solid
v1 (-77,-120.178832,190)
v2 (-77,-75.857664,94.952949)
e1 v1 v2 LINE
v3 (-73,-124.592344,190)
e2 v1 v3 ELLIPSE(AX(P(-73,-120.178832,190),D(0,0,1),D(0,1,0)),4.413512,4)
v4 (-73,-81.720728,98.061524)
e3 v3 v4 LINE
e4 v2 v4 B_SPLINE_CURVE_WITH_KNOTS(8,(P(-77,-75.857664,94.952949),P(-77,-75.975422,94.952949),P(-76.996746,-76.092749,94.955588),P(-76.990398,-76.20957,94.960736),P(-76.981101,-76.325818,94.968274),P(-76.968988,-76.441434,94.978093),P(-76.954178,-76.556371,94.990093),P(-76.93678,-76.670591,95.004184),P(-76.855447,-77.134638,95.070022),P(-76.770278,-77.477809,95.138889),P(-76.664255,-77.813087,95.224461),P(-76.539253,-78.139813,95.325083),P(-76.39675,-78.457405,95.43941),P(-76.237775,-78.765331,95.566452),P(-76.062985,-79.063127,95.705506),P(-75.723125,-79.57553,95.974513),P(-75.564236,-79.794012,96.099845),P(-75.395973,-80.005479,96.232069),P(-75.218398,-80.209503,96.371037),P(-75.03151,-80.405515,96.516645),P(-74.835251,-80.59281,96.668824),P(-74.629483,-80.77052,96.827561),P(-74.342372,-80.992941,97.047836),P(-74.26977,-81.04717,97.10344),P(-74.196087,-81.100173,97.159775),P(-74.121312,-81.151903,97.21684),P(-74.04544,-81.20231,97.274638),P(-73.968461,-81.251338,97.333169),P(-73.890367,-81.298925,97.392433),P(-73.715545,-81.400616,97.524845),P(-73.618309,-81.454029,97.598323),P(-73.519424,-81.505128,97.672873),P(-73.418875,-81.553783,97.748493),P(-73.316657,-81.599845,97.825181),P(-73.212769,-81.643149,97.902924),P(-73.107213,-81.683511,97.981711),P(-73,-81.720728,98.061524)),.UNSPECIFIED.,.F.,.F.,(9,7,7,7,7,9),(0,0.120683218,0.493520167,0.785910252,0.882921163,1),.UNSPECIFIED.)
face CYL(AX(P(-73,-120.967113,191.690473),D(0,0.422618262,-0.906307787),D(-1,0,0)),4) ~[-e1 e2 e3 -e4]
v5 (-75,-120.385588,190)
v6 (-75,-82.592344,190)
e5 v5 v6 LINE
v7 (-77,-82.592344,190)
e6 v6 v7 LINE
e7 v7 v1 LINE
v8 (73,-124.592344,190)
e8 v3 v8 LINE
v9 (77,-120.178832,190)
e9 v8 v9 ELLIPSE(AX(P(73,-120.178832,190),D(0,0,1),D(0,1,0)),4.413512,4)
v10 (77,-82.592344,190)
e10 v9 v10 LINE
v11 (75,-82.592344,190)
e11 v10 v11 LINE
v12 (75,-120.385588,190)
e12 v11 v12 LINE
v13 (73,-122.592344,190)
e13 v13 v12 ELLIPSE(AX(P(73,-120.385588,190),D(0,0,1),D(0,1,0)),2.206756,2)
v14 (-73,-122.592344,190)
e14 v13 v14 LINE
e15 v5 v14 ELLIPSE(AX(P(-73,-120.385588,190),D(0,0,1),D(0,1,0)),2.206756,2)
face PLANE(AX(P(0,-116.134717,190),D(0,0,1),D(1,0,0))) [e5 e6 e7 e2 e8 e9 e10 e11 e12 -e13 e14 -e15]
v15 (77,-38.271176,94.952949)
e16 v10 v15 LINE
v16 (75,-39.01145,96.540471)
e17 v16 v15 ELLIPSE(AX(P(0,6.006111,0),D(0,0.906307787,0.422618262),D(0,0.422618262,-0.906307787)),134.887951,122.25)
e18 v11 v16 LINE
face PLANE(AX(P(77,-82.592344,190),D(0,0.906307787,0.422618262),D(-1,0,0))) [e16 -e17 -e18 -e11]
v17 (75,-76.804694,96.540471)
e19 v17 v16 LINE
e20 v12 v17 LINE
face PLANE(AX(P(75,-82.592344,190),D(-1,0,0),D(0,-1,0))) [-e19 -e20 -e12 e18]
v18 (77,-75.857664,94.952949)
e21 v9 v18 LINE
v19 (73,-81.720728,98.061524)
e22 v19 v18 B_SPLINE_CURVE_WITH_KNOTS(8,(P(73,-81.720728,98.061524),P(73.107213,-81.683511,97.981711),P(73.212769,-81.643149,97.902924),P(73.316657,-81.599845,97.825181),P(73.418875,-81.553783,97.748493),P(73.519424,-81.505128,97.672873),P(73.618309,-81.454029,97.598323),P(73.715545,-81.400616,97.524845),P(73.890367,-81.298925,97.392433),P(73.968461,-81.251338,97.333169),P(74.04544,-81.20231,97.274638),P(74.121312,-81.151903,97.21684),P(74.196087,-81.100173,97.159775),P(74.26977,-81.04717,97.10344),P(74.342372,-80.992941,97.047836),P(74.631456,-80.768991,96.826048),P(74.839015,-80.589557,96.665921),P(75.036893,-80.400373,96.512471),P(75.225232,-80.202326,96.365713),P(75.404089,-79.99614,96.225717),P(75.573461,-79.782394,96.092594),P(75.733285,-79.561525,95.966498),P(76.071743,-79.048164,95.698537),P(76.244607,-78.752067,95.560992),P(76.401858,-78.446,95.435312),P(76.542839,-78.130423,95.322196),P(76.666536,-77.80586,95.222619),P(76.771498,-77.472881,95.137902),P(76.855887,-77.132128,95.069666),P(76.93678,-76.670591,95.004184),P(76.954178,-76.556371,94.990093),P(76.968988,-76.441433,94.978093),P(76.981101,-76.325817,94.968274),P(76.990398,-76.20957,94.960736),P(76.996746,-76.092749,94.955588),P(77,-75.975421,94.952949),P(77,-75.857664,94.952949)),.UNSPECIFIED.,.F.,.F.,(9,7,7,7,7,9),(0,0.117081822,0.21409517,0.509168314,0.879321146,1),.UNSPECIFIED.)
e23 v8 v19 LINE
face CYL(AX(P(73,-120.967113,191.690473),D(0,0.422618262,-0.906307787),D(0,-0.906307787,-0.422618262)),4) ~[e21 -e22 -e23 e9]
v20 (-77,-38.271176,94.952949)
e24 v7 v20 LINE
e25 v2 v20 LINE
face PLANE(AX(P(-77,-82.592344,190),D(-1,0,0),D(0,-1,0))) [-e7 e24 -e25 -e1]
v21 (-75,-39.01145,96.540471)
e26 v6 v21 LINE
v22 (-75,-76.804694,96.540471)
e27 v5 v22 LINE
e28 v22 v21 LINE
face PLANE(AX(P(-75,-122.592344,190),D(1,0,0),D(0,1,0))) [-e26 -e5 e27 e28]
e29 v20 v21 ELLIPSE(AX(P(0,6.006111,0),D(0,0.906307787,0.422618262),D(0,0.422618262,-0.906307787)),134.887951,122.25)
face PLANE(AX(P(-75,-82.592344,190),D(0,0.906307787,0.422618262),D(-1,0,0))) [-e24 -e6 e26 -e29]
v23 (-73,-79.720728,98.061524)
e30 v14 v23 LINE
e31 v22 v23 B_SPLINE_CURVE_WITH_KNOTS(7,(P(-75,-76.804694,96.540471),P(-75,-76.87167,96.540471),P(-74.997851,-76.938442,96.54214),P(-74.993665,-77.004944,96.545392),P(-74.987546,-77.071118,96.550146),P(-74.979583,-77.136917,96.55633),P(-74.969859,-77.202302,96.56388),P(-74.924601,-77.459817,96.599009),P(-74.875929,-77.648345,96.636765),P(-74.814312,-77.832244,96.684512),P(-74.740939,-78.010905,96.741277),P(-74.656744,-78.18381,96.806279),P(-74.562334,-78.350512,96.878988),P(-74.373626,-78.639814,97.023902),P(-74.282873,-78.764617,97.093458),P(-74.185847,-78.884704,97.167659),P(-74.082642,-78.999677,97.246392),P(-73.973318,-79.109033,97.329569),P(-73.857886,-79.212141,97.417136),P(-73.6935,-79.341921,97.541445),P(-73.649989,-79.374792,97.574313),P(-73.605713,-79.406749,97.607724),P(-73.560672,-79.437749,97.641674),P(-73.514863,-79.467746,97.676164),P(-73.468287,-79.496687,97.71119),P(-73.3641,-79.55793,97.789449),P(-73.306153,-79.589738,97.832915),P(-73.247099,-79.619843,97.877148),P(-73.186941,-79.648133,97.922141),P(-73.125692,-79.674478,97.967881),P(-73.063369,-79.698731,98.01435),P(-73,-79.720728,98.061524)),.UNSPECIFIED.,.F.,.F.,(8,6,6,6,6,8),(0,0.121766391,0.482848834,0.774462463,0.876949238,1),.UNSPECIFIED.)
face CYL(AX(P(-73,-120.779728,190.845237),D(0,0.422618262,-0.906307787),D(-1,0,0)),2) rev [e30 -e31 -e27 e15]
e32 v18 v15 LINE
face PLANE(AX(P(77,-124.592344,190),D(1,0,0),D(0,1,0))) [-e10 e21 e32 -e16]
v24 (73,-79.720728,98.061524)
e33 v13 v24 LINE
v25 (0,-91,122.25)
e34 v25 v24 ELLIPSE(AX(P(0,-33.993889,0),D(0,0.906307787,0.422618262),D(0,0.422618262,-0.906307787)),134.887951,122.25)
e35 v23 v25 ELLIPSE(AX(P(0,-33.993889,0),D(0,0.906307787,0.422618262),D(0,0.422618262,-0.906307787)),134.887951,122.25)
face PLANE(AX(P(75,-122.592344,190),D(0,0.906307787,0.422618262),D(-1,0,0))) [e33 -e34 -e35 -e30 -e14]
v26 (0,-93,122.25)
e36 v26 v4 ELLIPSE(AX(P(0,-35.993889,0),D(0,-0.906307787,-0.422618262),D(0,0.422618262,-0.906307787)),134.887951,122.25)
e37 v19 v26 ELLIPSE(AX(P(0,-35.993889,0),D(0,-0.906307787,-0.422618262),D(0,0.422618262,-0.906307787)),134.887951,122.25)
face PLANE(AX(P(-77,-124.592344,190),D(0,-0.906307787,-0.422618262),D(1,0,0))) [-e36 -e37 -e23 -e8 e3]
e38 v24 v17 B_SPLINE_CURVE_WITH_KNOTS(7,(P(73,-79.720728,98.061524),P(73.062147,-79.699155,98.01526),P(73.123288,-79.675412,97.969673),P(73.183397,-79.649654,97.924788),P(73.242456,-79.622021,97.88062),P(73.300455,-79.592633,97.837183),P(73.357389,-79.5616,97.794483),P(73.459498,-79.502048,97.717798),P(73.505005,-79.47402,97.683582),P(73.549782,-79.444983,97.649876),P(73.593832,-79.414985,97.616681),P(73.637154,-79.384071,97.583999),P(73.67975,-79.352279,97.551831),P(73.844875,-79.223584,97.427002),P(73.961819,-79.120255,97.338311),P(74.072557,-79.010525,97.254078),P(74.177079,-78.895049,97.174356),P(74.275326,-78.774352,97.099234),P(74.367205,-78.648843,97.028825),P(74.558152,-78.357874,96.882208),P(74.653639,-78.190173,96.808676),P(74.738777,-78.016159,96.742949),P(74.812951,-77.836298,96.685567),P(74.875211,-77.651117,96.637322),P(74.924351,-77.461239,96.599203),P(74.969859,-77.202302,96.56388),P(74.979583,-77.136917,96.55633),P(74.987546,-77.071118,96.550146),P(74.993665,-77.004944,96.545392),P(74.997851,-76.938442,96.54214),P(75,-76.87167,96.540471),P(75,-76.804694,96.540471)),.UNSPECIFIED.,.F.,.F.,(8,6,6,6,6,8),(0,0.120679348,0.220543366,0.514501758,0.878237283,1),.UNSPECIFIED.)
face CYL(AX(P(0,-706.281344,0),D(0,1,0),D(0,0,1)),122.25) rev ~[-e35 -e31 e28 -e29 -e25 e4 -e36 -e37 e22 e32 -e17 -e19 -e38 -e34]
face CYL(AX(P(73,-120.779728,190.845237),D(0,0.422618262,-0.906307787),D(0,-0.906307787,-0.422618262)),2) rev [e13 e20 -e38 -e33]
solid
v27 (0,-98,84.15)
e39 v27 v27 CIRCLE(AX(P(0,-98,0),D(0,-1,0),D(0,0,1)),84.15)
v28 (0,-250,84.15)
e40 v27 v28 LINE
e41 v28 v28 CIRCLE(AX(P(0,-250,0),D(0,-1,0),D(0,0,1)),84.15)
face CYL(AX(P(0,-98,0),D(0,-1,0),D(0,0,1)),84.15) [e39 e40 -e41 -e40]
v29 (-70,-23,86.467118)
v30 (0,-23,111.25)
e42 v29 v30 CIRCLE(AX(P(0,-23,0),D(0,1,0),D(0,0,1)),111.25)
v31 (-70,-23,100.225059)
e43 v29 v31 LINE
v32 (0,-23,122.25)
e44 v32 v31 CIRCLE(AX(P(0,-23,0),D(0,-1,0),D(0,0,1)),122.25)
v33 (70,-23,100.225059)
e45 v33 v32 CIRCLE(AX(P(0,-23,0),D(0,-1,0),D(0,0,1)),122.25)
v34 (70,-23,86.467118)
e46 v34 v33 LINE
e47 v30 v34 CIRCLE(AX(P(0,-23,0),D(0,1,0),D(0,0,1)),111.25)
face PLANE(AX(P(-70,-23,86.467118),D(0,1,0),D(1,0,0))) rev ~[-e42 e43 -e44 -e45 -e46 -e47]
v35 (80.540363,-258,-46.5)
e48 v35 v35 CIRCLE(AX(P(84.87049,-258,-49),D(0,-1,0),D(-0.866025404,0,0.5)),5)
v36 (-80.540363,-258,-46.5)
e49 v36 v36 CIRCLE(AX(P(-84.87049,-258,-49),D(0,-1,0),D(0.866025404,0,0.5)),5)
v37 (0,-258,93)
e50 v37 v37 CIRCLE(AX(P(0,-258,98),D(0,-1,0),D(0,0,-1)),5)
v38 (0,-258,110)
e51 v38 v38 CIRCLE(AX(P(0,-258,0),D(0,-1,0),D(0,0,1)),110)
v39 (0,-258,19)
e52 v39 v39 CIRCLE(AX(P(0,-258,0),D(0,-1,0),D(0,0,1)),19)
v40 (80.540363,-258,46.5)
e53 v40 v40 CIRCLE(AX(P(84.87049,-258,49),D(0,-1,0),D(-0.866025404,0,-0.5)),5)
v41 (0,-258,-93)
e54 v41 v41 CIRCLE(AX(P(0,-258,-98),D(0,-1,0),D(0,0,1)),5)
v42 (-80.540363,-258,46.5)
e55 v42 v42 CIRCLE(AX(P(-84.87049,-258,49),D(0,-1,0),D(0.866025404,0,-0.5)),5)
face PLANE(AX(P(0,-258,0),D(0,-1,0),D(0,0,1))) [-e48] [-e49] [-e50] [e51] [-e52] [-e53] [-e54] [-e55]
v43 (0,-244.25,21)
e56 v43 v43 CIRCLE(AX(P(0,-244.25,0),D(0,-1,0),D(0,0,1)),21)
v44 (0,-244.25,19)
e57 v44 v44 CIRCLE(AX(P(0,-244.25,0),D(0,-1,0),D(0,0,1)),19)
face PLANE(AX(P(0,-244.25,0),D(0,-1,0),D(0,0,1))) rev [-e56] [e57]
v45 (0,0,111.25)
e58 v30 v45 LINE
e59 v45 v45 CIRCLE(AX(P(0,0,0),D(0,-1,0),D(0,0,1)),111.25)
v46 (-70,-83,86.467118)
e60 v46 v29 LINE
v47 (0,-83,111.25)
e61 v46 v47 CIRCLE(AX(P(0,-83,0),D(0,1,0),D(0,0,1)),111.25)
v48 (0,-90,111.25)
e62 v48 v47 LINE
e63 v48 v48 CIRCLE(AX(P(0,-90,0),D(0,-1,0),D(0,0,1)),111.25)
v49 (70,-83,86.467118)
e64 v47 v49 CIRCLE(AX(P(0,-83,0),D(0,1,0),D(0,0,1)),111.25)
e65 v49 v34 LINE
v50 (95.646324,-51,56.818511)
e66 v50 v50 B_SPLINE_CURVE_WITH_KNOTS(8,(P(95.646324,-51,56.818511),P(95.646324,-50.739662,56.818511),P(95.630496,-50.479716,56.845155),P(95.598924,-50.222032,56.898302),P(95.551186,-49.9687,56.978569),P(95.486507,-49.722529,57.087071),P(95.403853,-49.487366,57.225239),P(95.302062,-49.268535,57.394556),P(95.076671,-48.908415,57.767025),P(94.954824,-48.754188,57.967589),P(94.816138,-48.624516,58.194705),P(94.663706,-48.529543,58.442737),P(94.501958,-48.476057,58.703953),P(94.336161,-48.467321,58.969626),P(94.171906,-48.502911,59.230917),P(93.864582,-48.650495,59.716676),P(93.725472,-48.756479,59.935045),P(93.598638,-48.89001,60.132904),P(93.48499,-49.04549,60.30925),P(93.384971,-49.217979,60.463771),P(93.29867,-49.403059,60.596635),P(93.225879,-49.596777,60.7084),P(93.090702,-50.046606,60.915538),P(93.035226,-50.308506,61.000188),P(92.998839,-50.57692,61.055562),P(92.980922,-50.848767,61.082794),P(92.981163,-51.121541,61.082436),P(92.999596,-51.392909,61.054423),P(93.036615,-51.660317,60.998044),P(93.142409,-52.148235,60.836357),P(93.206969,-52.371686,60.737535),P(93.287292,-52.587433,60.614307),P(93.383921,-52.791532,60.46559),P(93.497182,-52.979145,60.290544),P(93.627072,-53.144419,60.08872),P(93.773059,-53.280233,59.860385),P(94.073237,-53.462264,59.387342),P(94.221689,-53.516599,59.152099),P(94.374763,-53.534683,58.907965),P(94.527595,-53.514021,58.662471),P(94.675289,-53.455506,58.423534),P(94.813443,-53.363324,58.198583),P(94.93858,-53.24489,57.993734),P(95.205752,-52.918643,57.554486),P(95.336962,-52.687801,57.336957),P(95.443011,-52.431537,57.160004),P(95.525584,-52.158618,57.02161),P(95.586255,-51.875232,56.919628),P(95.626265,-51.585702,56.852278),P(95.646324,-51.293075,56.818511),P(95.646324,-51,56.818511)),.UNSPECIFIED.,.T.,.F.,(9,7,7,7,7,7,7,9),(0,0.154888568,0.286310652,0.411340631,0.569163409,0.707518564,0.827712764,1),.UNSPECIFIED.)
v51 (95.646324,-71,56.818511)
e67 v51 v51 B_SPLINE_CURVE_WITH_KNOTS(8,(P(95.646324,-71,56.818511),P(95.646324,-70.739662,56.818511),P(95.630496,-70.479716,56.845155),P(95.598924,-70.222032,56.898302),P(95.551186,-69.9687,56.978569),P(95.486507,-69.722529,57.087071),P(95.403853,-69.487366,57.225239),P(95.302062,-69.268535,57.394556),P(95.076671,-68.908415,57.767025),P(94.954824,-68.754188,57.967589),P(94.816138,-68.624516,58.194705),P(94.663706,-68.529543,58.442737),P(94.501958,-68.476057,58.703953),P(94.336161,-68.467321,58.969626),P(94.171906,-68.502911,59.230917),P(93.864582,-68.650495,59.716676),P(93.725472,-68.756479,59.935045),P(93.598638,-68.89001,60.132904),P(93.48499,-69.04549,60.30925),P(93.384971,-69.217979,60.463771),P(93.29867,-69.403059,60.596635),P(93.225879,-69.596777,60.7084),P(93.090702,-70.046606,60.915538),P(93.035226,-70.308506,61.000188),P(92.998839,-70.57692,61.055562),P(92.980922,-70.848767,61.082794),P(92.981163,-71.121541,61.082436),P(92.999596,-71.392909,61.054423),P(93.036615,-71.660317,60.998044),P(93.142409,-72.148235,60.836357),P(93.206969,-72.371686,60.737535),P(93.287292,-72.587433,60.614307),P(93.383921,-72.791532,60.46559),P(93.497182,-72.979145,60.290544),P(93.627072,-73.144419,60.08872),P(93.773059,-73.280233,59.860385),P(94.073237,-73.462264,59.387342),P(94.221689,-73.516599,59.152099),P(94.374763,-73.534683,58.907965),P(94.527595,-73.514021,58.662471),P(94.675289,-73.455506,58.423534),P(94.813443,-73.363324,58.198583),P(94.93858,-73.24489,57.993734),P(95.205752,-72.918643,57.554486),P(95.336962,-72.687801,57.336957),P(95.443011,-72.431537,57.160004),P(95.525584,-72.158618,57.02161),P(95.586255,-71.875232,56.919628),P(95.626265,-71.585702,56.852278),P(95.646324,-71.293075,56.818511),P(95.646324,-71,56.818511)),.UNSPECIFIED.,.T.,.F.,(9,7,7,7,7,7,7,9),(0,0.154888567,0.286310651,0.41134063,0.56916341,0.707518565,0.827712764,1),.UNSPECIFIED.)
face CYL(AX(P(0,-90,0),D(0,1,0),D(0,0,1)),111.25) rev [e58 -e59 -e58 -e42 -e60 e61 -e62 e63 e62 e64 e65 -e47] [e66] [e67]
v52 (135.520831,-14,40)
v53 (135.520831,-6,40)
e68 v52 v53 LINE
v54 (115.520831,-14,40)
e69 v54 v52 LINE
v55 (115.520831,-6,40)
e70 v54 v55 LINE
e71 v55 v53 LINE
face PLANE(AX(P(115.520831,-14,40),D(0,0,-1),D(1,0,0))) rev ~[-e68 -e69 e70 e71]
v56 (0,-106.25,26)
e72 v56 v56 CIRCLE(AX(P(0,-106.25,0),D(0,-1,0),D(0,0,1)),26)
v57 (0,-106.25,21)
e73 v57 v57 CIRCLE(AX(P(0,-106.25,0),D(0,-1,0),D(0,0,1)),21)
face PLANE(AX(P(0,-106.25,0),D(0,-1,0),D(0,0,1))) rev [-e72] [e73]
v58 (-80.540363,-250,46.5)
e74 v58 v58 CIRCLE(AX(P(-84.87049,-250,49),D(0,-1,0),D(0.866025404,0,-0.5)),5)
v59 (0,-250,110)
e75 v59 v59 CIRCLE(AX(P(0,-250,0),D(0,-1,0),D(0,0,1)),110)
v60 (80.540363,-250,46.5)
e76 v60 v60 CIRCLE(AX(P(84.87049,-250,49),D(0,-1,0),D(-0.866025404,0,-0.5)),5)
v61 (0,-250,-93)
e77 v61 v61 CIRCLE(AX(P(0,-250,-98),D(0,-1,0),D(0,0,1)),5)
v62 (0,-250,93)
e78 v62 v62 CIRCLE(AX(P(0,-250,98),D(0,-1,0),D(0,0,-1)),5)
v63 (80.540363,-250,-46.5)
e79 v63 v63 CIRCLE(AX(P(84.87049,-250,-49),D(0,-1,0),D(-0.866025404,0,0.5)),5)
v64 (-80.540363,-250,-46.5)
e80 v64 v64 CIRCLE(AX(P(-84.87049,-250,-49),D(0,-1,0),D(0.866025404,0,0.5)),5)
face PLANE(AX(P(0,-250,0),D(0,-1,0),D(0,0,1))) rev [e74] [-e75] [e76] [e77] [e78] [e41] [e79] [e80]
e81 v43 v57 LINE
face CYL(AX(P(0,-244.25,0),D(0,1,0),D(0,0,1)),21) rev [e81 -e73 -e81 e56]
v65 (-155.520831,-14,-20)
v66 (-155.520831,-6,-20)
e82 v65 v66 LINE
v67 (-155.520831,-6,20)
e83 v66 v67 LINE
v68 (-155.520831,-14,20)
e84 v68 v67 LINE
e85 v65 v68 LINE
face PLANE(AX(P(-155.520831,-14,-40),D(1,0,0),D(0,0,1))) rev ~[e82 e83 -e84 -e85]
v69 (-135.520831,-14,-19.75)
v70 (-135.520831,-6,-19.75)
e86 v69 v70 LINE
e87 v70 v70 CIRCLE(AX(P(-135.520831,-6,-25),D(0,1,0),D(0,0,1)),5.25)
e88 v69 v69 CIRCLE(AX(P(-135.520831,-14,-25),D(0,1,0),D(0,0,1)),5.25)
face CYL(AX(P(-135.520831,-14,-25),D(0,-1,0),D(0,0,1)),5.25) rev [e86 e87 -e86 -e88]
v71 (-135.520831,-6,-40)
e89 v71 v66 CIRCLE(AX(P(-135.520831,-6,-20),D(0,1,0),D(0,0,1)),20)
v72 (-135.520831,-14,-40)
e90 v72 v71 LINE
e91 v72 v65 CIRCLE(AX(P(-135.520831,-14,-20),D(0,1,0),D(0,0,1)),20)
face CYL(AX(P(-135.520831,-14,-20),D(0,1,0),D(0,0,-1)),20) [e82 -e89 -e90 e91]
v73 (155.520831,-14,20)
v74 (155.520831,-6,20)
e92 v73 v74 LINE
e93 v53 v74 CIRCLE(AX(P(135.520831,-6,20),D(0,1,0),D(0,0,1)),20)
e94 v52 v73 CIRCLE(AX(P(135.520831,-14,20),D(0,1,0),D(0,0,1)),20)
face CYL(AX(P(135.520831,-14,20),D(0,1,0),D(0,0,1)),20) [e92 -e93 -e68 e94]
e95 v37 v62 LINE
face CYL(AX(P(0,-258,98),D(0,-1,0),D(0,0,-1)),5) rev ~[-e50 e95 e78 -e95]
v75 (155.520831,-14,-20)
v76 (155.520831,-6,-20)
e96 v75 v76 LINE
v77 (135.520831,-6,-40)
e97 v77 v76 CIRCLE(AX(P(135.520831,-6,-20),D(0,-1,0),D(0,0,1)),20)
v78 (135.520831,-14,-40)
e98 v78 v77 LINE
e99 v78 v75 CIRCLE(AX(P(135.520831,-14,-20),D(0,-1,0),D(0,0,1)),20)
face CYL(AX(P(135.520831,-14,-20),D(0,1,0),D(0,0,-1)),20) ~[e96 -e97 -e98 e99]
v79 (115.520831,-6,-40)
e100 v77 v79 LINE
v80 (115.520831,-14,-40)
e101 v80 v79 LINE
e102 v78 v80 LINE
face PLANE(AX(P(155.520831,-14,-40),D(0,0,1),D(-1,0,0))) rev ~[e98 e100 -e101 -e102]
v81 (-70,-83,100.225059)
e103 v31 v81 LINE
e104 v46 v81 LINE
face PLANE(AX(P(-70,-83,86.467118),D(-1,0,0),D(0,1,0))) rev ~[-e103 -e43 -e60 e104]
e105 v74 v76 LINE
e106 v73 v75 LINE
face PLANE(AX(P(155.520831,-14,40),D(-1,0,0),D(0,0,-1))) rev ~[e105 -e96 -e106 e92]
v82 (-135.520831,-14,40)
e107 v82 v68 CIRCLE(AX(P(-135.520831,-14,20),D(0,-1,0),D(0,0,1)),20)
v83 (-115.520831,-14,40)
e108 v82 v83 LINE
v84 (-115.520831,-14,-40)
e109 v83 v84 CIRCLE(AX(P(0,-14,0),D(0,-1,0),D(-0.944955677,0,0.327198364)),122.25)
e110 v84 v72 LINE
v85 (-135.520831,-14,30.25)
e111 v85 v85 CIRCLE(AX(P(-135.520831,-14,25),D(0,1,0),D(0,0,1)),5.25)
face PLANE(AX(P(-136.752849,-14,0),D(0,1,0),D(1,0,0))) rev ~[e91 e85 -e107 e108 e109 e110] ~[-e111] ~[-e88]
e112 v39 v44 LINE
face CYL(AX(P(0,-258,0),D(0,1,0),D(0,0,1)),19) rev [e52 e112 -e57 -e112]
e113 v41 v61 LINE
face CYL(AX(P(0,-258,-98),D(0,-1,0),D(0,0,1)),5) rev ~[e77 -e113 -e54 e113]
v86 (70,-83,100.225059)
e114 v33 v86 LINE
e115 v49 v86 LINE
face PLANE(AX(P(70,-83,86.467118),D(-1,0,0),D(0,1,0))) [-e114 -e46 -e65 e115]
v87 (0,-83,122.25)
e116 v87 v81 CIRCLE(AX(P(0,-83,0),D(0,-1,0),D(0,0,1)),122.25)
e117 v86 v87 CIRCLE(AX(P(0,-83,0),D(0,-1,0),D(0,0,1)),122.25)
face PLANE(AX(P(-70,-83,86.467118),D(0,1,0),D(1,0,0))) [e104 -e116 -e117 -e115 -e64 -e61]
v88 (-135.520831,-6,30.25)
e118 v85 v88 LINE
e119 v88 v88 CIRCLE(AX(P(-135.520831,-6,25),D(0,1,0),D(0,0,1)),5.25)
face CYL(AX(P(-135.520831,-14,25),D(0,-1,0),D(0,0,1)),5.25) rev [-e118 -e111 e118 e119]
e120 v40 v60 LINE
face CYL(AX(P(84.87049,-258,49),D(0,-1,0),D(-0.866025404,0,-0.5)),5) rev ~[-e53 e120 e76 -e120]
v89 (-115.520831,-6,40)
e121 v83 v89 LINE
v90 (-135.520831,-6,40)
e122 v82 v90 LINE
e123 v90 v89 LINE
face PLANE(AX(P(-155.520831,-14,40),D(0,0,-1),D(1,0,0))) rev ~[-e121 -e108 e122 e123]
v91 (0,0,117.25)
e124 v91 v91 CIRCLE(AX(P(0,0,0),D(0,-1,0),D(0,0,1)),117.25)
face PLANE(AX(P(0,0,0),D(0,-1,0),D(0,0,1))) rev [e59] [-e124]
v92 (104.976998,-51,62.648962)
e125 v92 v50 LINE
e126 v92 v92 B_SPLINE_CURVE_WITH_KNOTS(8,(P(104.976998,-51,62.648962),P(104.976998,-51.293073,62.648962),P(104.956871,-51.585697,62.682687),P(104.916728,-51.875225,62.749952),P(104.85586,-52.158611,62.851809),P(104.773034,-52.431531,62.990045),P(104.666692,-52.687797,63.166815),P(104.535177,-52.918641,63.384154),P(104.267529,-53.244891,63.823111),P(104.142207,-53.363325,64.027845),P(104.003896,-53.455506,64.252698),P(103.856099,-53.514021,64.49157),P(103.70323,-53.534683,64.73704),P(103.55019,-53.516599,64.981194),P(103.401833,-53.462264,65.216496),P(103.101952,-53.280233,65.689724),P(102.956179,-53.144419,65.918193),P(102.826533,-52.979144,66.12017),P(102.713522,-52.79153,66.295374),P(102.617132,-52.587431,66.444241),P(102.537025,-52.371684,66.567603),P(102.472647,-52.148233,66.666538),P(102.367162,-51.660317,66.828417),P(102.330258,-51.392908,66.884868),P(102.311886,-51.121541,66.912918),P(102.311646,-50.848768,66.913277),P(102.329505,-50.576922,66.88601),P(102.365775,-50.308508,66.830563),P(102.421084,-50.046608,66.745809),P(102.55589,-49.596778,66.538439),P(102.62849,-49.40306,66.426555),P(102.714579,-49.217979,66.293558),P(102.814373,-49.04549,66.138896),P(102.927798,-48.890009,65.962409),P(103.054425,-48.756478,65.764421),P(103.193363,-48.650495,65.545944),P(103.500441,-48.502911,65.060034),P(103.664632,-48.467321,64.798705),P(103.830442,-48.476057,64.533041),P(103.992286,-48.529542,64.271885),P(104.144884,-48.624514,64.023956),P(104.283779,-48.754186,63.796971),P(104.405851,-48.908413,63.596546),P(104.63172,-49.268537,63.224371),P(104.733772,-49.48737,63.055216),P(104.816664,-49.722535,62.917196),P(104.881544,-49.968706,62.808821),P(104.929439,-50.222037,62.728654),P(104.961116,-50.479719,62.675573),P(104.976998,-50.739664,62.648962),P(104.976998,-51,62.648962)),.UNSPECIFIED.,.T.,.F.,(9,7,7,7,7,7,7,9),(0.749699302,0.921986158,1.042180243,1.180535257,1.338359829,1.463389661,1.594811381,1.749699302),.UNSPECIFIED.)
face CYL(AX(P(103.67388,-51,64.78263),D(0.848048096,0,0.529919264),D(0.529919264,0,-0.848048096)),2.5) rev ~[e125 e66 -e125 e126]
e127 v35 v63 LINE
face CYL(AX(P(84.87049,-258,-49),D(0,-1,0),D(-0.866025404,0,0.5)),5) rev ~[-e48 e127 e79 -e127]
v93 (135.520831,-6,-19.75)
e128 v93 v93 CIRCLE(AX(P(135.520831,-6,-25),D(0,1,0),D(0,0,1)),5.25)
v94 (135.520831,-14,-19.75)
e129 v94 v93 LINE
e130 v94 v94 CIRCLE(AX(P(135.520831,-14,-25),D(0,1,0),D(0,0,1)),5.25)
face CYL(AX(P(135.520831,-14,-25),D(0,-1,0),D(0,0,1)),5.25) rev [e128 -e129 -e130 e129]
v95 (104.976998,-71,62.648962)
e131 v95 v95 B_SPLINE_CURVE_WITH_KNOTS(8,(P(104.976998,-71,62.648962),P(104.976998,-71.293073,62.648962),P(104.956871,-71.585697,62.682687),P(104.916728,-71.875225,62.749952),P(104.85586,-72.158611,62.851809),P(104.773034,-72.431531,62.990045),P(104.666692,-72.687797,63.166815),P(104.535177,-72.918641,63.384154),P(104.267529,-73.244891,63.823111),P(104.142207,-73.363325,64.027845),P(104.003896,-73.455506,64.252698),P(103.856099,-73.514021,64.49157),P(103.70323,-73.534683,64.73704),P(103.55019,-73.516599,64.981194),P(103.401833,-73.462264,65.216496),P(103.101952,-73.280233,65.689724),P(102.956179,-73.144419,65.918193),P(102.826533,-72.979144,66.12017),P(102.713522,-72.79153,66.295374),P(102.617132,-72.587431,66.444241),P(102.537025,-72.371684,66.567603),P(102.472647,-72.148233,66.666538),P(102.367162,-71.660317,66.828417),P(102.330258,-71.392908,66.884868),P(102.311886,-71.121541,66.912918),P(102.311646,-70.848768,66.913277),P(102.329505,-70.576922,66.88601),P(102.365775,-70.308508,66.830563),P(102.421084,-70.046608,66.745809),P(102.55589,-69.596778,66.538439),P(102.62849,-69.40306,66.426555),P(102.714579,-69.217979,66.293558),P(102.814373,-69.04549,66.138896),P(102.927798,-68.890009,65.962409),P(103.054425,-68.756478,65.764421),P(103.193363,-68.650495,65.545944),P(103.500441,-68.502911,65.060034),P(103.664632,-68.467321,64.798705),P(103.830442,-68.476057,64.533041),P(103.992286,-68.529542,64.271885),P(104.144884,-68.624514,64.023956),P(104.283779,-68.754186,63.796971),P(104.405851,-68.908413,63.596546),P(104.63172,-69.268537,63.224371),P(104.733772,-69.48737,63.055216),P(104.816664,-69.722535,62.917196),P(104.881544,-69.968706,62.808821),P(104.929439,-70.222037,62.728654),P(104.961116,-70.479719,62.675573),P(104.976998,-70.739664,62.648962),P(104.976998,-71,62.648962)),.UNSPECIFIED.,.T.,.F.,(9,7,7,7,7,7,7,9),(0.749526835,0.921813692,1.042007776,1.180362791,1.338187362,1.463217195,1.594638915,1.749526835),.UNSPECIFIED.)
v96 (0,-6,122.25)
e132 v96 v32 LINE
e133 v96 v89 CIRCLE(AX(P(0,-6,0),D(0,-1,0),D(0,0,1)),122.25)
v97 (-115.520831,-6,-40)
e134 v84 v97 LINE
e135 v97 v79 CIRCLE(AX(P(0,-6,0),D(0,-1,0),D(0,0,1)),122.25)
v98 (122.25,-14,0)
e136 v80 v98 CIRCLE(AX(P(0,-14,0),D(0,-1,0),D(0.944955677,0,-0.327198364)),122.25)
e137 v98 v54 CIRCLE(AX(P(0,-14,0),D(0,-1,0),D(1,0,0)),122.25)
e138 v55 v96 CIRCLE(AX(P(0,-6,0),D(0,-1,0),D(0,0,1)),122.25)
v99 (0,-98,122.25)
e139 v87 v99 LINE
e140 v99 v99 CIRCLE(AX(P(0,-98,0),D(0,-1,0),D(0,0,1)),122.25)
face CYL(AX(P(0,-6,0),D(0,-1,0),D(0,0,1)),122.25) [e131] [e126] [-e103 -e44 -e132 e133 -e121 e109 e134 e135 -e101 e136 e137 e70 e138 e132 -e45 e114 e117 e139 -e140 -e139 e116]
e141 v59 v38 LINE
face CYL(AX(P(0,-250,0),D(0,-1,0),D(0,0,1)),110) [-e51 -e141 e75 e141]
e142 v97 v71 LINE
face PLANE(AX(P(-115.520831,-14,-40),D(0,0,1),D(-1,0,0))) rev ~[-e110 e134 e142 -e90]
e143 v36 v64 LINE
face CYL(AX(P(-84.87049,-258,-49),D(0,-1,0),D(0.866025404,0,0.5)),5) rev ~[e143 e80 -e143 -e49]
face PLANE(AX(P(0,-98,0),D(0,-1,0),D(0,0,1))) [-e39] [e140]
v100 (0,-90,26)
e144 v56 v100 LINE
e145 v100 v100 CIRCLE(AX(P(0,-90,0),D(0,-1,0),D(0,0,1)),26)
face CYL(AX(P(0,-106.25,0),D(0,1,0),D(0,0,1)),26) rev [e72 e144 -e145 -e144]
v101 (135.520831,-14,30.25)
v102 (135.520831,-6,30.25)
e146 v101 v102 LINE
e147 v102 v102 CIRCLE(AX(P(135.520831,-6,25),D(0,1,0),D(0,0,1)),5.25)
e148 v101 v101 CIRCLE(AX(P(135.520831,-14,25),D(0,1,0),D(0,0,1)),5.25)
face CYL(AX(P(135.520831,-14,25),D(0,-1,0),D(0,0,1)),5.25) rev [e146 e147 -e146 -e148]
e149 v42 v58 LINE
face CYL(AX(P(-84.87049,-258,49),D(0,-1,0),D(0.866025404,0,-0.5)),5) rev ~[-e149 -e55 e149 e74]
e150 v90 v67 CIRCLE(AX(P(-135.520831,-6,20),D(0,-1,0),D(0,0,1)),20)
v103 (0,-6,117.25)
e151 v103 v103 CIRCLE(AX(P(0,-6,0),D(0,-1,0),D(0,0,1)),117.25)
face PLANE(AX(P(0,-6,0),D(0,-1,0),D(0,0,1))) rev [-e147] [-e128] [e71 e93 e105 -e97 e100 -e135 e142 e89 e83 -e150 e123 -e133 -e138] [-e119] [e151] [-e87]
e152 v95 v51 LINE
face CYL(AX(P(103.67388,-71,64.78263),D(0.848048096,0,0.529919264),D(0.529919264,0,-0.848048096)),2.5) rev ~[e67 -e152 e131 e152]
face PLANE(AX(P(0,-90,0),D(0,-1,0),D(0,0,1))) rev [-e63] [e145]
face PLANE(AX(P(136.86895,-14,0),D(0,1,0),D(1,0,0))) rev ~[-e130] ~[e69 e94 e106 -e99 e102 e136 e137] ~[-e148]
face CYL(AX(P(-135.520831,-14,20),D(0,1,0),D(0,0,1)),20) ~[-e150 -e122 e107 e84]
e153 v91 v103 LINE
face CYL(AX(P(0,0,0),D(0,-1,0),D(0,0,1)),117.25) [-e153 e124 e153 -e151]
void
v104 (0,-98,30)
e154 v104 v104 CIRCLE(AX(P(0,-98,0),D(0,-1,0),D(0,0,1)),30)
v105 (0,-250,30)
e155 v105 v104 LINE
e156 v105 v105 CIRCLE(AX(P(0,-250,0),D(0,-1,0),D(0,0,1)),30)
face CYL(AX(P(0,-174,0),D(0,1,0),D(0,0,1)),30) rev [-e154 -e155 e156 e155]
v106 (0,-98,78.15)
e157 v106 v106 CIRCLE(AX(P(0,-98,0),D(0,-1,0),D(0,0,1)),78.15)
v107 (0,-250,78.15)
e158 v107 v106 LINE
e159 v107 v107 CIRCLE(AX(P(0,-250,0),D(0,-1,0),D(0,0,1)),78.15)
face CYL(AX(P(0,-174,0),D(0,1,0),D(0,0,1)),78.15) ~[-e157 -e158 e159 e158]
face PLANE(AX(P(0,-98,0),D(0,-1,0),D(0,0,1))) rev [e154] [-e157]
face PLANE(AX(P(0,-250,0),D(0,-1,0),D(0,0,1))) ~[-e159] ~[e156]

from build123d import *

# Parameters (mm, degrees)
SKETCH1_W                = 48.15
SKETCH1_H                = 152
CUT_EXTRUDE1_START       = 86.467118
SKETCH2_W                = 140
SKETCH2_H                = 60
CUT_EXTRUDE1_DEPTH       = 35.782882
SKETCH3_R                = 5
CUT_EXTRUDE2_DEPTH       = 8
CIRPATTERN1_COUNT        = 6
BOSS_EXTRUDE1_START      = -8
SKETCH4_R                = 5.25
BOSS_EXTRUDE1_DEPTH      = 8
FILLET1_R                = 20
BOSS_EXTRUDE2_REACH      = 480.939
BOSS_EXTRUDE2_END_RADIUS = 122.25
CUT_EXTRUDE3_REACH       = 412.764
CUT_EXTRUDE3_END_RADIUS  = 111.25
SKETCH8_R                = 2.5
FILLET2_R                = 2
FILLET3_R                = 4


with BuildPart() as part:
    # Sketch1 → Revolve1 (revolve)
    with BuildSketch(Plane.XY, mode=Mode.PRIVATE) as revolve1_sk:
        Polygon((84.15, -250), (110, -250), (110, -258), (19, -258), (19, -244.25), (21, -244.25), (21, -106.25), (26, -106.25), (26, -90), (111.25, -90), (111.25, 0), (117.25, 0), (117.25, -6), (122.25, -6), (122.25, -98), (84.15, -98), align=None)
        with Locations((54.075, -174)):
            Rectangle(SKETCH1_W, SKETCH1_H, mode=Mode.SUBTRACT)
    revolve(revolve1_sk.sketch.rotate(Axis((0, 0, 0), (0, -1, 0)), 90), axis=Axis((0, 0, 0), (0, -1, 0)))

    # Sketch2 → Cut-Extrude1 (cut)
    with BuildSketch(Plane.XY.offset(CUT_EXTRUDE1_START)):
        with Locations((0, -53)):
            Rectangle(SKETCH2_W, SKETCH2_H)
    extrude(amount=CUT_EXTRUDE1_DEPTH, mode=Mode.SUBTRACT)

    # Sketch3 → Cut-Extrude2 (cut)
    with BuildSketch(Plane.XZ.offset(258)):
        with Locations(Location((0, 98, 0), (0, 0, 270))):
            Circle(SKETCH3_R)
    cut_extrude2 = extrude(amount=-CUT_EXTRUDE2_DEPTH, mode=Mode.SUBTRACT)

    # CirPattern1: Cut-Extrude2 ×6 about axis
    cirpattern1_axis = Axis((0, 0, 0), (0, 1, 0))
    for i in range(1, CIRPATTERN1_COUNT):
        add(cut_extrude2.rotate(cirpattern1_axis, i * 360 / CIRPATTERN1_COUNT), mode=Mode.SUBTRACT)

    # Sketch4 → Boss-Extrude1 (add)
    # profile 1 of 2: a face of its own
    with BuildSketch(Plane(origin=(0, -6, 0), x_dir=(1, 0, 0), z_dir=(0, 1, 0)).offset(BOSS_EXTRUDE1_START)):
        with BuildLine():
            ThreePointArc((-115.520831455, -40), (-122.25, 0), (-115.520831455, 40))
            Line((-115.520831455, 40), (-155.520831455, 40))
            Line((-155.520831455, 40), (-155.520831455, -40))
            Line((-155.520831455, -40), (-115.520831455, -40))
        make_face()
        with Locations(Location((-135.520831455, -25, 0), (0, 0, 270))):
            Circle(SKETCH4_R, mode=Mode.SUBTRACT)
        with Locations(Location((-135.520831455, 25, 0), (0, 0, 270))):
            Circle(SKETCH4_R, mode=Mode.SUBTRACT)
    # profile 2 of 2: a face of its own
    with BuildSketch(Plane(origin=(0, -6, 0), x_dir=(1, 0, 0), z_dir=(0, 1, 0)).offset(BOSS_EXTRUDE1_START)):
        with BuildLine():
            Line((155.520831455, 40), (115.520831455, 40))
            ThreePointArc((115.520831455, 40), (120.555970705, 20.28103615), (122.25, 0))
            ThreePointArc((122.25, 0), (120.555970705, -20.28103615), (115.520831455, -40))
            Line((115.520831455, -40), (155.520831455, -40))
            Line((155.520831455, -40), (155.520831455, 40))
        make_face()
        with Locations(Location((135.520831455, -25, 0), (0, 0, 270))):
            Circle(SKETCH4_R, mode=Mode.SUBTRACT)
        with Locations(Location((135.520831455, 25, 0), (0, 0, 270))):
            Circle(SKETCH4_R, mode=Mode.SUBTRACT)
    extrude(amount=BOSS_EXTRUDE1_DEPTH)

    # Fillet1
    fillet1_edges = [part.edges().sort_by_distance(p)[0] for p in [
        (155.520831455, -10, -40),
        (155.520831455, -10, 40),
        (-155.520831455, -10, 40),
        (-155.520831455, -10, -40),
    ]]
    fillet(fillet1_edges, radius=FILLET1_R)

    # Cut-Extrude3: up to this cylinder (the profile starts outside it)
    cut_extrude3_end = Plane(origin=(0, -61, 0), z_dir=(0, 1, 0)) * Cylinder(CUT_EXTRUDE3_END_RADIUS, 1069.028, mode=Mode.PRIVATE)
    # Sketch8 → Cut-Extrude3 (cut, up to the surface)
    with BuildSketch(Plane(origin=(103.673879755, 0, 64.782630053), x_dir=(0, 1, 0), z_dir=(0.8480480961564272, 0, 0.529919264233203)), mode=Mode.PRIVATE) as cut_extrude3_sk1:
        with Locations(Location((-51, 0, 0), (0, 0, 270))):
            Circle(SKETCH8_R)
    cut_extrude3_tool1 = extrude(cut_extrude3_sk1.sketch, amount=-CUT_EXTRUDE3_REACH, mode=Mode.PRIVATE) - cut_extrude3_end
    add(cut_extrude3_tool1.solids().sort_by_distance((103.67388, -51, 64.78263))[0], mode=Mode.SUBTRACT)
    # Sketch8 → Cut-Extrude3 (cut, up to the surface)
    with BuildSketch(Plane(origin=(103.673879755, 0, 64.782630053), x_dir=(0, 1, 0), z_dir=(0.8480480961564272, 0, 0.529919264233203)), mode=Mode.PRIVATE) as cut_extrude3_sk2:
        with Locations(Location((-71, 0, 0), (0, 0, 270))):
            Circle(SKETCH8_R)
    cut_extrude3_tool2 = extrude(cut_extrude3_sk2.sketch, amount=-CUT_EXTRUDE3_REACH, mode=Mode.PRIVATE) - cut_extrude3_end
    add(cut_extrude3_tool2.solids().sort_by_distance((103.67388, -71, 64.78263))[0], mode=Mode.SUBTRACT)


with BuildPart() as body_2:
    # Boss-Extrude2: up to this cylinder (the profile starts outside it)
    boss_extrude2_end = Plane(origin=(0, -102.592344, 0), z_dir=(0, 1, 0)) * Cylinder(BOSS_EXTRUDE2_END_RADIUS, 1207.378, mode=Mode.PRIVATE)
    # Sketch5 → Boss-Extrude2 (new, up to the surface)
    with BuildSketch(Plane.XY.offset(190), mode=Mode.PRIVATE) as boss_extrude2_sk1:
        Polygon((-75, -122.59234384), (-75, -82.59234384), (-77, -82.59234384), (-77, -124.59234384), (77, -124.59234384), (77, -82.59234384), (75, -82.59234384), (75, -122.59234384), align=None)
    boss_extrude2_tool1 = extrude(boss_extrude2_sk1.sketch, amount=BOSS_EXTRUDE2_REACH, dir=(0, 0.422618261741, -0.906307787037), mode=Mode.PRIVATE) - boss_extrude2_end
    add(boss_extrude2_tool1.solids().sort_by_distance((76.596246, -102.592344, 190))[0])

    # Fillet2
    fillet2_edges = [body_2.edges().sort_by_distance(p)[0] for p in [
        (75, -100.80189674, 143.270235394),
        (-75, -100.80189674, 143.270235394),
    ]]
    fillet(fillet2_edges, radius=FILLET2_R)

    # Fillet3
    fillet3_edges = [body_2.edges().sort_by_distance(p)[0] for p in [
        (77, -102.431759928, 142.476474437),
        (-77, -102.431759928, 142.476474437),
    ]]
    fillet(fillet3_edges, radius=FILLET3_R)


solid = Compound([part.part, body_2.part])
